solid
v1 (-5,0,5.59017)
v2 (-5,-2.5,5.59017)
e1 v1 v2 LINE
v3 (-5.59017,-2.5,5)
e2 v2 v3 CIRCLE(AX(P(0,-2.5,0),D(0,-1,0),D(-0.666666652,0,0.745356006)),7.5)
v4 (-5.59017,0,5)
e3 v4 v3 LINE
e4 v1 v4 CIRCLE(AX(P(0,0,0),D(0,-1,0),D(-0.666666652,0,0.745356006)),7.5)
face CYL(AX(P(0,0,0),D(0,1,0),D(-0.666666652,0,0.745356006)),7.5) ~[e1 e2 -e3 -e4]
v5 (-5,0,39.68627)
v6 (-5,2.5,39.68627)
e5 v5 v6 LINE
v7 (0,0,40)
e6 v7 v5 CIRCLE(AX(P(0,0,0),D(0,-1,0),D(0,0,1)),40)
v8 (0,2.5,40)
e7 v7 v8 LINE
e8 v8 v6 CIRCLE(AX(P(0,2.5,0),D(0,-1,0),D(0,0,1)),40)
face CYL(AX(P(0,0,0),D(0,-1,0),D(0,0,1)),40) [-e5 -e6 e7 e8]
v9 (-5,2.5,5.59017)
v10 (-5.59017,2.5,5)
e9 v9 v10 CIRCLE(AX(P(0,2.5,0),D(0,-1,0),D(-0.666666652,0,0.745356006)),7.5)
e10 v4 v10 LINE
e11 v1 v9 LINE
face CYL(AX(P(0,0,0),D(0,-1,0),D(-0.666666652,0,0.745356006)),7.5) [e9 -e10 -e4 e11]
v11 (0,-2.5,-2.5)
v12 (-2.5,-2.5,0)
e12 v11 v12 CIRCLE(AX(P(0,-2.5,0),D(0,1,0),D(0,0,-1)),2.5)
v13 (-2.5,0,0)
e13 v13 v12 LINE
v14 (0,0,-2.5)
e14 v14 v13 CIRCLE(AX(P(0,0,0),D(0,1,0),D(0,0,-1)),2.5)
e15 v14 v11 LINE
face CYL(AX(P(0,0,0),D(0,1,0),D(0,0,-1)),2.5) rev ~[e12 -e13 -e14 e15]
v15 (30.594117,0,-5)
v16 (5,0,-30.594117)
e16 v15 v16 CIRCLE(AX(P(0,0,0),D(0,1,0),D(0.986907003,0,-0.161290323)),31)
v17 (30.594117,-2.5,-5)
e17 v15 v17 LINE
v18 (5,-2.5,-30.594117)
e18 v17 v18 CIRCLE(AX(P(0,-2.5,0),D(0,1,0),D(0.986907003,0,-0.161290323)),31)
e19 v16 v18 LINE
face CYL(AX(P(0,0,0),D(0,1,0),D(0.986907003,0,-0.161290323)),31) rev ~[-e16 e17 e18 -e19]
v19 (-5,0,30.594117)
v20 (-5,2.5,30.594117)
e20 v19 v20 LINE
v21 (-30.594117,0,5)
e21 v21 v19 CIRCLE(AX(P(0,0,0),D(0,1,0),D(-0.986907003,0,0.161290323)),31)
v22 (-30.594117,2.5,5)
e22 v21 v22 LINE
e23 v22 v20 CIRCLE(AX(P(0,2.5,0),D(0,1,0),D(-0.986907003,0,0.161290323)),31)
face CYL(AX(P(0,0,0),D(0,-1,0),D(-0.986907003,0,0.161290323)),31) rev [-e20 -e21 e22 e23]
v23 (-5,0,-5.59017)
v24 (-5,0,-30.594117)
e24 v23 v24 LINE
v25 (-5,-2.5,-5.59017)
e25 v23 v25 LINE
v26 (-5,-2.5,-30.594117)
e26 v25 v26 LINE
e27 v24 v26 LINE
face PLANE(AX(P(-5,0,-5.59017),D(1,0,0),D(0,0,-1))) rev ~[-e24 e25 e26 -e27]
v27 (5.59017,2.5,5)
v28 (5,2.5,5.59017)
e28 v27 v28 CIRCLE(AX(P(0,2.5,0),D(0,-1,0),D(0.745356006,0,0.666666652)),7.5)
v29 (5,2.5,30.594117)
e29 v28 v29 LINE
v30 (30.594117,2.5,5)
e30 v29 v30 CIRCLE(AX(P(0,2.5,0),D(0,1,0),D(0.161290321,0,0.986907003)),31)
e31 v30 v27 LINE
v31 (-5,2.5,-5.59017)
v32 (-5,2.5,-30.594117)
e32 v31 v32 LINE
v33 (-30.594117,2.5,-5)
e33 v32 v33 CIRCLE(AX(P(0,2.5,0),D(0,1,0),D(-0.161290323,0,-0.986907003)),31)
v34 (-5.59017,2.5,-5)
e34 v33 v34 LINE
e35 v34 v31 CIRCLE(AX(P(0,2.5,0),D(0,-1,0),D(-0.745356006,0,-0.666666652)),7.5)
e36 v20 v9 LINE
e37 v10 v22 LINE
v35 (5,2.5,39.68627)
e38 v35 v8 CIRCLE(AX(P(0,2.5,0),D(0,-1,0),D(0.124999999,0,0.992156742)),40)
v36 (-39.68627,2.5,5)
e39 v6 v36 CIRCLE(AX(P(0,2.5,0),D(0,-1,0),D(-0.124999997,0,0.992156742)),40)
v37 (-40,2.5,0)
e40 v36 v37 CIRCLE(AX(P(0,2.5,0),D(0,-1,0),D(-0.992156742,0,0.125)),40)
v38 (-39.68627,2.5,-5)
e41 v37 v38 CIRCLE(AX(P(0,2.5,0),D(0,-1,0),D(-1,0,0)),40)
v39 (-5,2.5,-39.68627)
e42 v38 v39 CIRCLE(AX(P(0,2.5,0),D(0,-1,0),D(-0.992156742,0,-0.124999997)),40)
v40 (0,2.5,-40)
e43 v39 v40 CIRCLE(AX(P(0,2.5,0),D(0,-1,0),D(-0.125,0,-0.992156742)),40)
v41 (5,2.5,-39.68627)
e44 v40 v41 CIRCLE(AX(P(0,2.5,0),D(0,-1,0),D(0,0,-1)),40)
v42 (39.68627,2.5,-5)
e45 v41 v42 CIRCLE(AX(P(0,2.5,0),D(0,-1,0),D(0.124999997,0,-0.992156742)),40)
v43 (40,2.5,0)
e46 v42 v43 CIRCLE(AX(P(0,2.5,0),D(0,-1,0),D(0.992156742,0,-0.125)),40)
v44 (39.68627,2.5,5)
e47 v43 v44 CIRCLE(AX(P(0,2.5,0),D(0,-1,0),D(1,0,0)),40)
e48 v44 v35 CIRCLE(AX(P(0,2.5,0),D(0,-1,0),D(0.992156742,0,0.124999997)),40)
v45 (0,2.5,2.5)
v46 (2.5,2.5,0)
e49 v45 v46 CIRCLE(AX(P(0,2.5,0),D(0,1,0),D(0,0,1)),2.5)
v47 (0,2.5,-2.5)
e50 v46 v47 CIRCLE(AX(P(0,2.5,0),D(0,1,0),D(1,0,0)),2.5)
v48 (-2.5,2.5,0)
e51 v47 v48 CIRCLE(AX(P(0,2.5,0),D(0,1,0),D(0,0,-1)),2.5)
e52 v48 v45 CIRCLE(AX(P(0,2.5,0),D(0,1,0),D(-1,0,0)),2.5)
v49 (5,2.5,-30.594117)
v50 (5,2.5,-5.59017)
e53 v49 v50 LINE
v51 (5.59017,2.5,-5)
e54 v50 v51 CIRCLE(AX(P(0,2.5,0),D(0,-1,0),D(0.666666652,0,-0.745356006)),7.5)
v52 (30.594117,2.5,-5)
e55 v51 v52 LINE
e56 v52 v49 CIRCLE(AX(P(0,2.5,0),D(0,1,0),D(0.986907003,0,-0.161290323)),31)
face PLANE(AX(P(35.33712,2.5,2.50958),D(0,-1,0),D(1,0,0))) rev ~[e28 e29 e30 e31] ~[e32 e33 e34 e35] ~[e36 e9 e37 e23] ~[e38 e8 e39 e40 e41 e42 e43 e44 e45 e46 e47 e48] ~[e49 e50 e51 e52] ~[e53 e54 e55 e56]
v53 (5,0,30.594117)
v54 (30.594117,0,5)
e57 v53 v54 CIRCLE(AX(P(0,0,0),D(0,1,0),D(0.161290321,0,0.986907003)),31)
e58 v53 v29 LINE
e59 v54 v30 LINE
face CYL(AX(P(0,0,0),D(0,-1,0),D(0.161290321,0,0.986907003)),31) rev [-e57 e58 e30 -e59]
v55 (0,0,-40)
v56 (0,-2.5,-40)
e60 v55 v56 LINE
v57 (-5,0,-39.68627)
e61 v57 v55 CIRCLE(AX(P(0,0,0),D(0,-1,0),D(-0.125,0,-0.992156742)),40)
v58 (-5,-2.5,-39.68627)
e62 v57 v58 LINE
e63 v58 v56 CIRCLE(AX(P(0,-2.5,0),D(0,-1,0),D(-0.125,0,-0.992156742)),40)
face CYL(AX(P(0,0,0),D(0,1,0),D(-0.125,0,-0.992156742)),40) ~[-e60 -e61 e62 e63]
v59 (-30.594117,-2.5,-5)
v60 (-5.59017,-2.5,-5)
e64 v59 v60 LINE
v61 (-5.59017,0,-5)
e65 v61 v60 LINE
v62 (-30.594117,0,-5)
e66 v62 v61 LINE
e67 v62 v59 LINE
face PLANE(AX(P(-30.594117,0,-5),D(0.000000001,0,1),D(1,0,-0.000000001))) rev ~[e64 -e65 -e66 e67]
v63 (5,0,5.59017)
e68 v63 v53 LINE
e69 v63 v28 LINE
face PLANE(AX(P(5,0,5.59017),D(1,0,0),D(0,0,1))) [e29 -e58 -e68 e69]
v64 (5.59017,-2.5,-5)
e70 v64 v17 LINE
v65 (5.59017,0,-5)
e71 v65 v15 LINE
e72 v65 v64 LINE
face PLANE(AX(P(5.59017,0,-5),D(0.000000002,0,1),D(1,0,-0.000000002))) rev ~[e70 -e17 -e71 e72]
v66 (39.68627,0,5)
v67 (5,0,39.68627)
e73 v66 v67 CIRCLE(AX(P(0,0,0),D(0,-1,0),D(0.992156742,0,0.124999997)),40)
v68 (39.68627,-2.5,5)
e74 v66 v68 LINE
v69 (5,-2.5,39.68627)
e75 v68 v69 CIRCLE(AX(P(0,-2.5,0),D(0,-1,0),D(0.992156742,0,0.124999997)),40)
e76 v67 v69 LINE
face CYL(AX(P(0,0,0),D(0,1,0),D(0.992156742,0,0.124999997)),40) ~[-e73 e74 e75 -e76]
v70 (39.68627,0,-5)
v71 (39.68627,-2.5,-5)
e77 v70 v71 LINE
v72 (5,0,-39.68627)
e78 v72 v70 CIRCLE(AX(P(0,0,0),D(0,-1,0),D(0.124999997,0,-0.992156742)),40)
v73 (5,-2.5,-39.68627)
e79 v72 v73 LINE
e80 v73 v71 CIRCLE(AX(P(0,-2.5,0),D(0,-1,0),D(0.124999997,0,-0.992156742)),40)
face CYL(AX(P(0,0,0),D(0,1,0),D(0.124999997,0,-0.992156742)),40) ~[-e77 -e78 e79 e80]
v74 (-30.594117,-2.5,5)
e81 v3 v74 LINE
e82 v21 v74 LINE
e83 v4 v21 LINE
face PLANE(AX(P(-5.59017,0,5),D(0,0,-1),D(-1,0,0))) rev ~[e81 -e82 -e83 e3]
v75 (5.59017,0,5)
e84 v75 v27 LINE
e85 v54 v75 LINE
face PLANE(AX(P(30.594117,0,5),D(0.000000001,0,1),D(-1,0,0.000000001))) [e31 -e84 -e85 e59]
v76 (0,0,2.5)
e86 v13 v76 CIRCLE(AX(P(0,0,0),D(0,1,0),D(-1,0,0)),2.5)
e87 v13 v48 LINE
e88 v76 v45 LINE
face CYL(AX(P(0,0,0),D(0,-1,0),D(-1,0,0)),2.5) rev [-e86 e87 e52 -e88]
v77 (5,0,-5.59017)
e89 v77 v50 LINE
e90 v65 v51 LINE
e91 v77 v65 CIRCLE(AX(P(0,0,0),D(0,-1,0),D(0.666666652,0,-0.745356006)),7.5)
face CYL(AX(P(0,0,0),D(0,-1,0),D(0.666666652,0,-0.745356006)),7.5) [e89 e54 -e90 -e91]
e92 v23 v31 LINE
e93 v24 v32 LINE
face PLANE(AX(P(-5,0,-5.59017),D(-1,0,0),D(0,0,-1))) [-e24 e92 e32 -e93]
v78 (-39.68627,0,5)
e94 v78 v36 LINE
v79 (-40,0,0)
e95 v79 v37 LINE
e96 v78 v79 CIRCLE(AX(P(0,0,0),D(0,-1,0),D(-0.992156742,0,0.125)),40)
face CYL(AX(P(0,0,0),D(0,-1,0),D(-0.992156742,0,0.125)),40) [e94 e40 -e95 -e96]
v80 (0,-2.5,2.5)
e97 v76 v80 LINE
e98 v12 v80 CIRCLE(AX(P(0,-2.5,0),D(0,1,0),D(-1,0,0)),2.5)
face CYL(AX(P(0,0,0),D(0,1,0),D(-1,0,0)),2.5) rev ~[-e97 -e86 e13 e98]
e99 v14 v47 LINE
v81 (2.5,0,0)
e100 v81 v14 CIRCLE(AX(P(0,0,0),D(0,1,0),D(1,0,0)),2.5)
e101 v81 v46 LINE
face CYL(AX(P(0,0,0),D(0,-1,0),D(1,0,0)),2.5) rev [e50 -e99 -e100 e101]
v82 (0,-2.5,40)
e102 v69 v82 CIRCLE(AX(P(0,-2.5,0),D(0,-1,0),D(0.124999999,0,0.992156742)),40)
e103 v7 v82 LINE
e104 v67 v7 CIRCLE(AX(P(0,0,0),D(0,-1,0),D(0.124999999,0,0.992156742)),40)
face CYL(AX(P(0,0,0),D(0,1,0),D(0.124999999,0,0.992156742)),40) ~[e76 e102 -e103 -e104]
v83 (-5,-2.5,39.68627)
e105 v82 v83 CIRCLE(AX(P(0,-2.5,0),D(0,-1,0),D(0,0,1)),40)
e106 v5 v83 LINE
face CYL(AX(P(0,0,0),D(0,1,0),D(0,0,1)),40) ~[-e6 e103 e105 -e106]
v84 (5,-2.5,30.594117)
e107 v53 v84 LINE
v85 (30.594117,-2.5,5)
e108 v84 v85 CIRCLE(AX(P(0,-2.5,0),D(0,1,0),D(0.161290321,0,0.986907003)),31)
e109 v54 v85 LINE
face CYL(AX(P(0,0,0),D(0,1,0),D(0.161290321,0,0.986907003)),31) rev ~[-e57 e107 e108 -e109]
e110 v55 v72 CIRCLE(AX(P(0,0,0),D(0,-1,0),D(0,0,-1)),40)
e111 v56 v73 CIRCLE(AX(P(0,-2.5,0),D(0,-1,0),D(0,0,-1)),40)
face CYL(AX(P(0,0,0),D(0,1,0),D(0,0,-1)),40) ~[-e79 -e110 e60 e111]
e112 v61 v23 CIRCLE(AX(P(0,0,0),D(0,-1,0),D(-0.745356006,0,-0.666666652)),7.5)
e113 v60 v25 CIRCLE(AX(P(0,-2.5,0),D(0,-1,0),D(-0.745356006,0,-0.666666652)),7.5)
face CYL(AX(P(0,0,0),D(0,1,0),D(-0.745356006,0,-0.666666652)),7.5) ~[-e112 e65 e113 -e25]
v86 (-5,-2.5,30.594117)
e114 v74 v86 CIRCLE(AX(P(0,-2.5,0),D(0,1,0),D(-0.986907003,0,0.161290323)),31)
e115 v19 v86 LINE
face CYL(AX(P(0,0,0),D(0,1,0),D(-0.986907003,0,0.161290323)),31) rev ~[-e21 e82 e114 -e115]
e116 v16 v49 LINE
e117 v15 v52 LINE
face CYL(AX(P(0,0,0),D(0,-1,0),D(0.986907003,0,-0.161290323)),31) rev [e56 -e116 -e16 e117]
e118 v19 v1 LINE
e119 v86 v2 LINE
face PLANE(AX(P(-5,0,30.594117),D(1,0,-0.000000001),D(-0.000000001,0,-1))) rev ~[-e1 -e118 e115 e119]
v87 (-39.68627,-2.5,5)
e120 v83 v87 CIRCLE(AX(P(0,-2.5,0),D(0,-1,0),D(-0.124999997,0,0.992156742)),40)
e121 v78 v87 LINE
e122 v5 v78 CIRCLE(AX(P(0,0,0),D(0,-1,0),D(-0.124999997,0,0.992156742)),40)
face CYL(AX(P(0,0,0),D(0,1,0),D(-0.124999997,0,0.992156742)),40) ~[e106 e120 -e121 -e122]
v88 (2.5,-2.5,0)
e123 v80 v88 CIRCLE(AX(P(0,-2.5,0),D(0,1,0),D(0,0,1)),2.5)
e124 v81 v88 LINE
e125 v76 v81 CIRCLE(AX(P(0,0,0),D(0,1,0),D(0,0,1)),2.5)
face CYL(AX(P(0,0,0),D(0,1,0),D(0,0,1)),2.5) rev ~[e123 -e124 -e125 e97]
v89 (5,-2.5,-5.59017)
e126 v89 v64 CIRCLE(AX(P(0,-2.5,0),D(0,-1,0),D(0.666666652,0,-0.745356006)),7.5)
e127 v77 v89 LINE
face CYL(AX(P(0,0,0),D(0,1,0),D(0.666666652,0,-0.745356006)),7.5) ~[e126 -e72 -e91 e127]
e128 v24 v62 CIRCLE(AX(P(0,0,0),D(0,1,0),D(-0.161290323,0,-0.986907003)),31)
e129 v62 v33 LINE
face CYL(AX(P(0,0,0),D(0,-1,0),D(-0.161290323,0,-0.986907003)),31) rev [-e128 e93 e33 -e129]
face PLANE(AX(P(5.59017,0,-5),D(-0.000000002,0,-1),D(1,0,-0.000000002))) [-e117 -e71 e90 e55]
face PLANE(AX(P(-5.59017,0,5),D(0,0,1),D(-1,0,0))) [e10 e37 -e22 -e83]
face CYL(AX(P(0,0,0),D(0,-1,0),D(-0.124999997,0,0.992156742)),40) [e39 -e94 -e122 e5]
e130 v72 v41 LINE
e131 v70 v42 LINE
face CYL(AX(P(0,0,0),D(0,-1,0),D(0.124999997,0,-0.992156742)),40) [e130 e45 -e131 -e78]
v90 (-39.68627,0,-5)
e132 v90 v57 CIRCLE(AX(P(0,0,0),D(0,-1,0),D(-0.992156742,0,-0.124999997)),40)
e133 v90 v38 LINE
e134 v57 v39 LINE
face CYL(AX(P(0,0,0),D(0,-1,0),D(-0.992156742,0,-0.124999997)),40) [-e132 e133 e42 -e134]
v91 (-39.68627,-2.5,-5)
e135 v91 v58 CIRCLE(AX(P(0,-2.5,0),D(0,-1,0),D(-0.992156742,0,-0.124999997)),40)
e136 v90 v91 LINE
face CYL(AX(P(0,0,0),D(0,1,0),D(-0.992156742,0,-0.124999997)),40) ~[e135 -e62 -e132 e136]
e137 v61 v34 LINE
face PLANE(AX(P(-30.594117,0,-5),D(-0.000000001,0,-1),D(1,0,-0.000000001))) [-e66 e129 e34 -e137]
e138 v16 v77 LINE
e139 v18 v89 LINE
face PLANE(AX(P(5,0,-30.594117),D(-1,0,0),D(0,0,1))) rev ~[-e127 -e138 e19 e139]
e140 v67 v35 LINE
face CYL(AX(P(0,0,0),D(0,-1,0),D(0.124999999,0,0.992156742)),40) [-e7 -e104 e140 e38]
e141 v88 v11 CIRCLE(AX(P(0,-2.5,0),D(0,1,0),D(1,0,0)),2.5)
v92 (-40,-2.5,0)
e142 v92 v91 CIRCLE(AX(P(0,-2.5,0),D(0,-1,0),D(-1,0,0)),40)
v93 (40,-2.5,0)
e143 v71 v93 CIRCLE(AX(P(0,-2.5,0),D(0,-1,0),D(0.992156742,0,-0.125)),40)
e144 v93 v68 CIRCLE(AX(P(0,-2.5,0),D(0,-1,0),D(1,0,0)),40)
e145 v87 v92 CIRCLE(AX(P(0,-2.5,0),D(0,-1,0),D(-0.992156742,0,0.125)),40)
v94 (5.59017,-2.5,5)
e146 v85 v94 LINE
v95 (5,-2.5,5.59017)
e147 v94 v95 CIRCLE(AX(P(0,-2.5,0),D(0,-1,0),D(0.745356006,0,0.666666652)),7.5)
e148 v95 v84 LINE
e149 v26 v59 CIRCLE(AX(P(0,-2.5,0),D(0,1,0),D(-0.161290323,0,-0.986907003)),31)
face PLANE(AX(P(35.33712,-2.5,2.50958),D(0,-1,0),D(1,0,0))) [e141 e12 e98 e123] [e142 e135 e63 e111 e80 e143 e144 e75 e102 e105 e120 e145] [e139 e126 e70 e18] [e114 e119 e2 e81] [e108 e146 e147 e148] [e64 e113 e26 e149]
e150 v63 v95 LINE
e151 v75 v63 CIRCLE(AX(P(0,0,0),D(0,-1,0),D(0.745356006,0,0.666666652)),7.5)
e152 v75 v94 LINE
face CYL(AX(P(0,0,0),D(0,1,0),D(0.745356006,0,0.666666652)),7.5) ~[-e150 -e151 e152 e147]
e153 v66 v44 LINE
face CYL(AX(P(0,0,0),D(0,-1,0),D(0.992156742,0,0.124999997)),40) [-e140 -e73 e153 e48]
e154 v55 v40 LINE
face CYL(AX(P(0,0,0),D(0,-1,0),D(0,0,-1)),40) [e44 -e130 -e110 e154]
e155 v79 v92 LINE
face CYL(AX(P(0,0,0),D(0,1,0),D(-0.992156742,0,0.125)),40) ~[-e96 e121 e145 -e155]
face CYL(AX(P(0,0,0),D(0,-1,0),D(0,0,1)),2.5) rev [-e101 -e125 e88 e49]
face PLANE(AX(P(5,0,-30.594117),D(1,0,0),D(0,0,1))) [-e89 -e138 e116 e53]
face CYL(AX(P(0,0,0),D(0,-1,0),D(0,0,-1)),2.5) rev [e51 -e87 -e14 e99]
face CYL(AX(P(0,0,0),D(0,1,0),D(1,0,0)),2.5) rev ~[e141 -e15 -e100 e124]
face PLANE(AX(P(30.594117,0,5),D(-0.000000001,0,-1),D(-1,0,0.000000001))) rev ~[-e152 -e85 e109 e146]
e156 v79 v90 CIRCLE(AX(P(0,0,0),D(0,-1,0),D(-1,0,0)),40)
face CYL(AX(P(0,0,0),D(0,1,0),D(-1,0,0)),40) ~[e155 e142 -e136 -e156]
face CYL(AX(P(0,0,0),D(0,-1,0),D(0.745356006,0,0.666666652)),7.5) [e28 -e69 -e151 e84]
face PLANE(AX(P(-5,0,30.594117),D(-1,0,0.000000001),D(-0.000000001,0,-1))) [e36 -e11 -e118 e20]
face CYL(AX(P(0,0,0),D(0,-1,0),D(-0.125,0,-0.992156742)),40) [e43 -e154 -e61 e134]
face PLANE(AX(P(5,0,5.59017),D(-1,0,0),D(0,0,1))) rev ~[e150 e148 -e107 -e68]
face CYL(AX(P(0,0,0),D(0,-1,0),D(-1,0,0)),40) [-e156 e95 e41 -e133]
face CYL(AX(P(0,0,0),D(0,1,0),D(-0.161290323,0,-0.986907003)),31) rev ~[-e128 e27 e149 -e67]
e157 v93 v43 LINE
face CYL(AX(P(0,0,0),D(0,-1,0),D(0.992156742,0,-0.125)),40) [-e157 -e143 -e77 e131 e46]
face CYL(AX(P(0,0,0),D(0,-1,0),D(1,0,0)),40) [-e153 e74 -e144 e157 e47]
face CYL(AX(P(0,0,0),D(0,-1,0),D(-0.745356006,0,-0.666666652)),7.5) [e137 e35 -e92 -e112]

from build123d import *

# Parameters (mm, degrees)
F1_DEPTH = 2.5


with BuildPart() as f1:
    # F0 (on Front) → F1 (new body, symmetric)
    with BuildSketch(Plane.XZ):
        with BuildLine():
            Line((31, 0), (40, 0))
            ThreePointArc((40, 0), (39.921490373, 2.5049164455), (39.68626968, 4.9999998882))
            Line((39.68626968, 4.9999998882), (30.5941170998, 4.9999998882))
            ThreePointArc((30.5941170998, 4.9999998882), (30.8983626596, 2.5082234655), (31, 0))
        make_face()
        with BuildLine():
            ThreePointArc((39.686269666, -5), (39.9214903695, -2.5049165017), (40, 0))
            Line((40, 0), (31, 0))
            ThreePointArc((31, 0), (30.8983626551, -2.5082235219), (30.5941170816, -5))
            Line((30.5941170816, -5), (39.686269666, -5))
        make_face()
        with BuildLine():
            Line((30.5941170998, 4.9999998882), (39.68626968, 4.9999998882))
            ThreePointArc((39.68626968, 4.9999998882), (28.2842712674, 28.2842712275), (4.9999999441, 39.686269673))
            Line((4.9999998882, 39.686269673), (4.9999998882, 30.5941170907))
            ThreePointArc((4.9999999441, 30.5941170907), (21.9203102368, 21.9203101968), (30.5941170998, 4.9999998882))
        make_face()
        with BuildLine():
            ThreePointArc((4.9999998882, -39.68626968), (28.2842712076, -28.2842712873), (39.686269666, -5))
            Line((39.686269666, -5), (30.5941170816, -5))
            ThreePointArc((30.5941170816, -5), (21.9203101767, -21.9203102568), (4.9999998882, -30.5941170998))
            Line((4.9999998882, -30.5941170998), (4.9999998882, -39.68626968))
        make_face()
        with BuildLine():
            Line((4.9999998882, 30.5941170907), (4.9999998882, 39.686269673))
            ThreePointArc((4.9999999441, 39.686269673), (2.5049164736, 39.9214903712), (0, 40))
            Line((0, 40), (0, 31))
            ThreePointArc((0, 31), (2.5082234937, 30.8983626574), (4.9999999441, 30.5941170907))
        make_face()
        with BuildLine():
            ThreePointArc((0, -40), (2.5049164455, -39.921490373), (4.9999998882, -39.68626968))
            Line((4.9999998882, -39.68626968), (4.9999998882, -30.5941170998))
            ThreePointArc((4.9999998882, -30.5941170998), (2.5082234655, -30.8983626596), (0, -31))
            Line((0, -31), (0, -40))
        make_face()
        with BuildLine():
            Line((0, 31), (0, 40))
            ThreePointArc((0, 40), (-2.5049164455, 39.921490373), (-4.9999998882, 39.68626968))
            Line((-4.9999998882, 39.68626968), (-4.9999998882, 30.5941170998))
            ThreePointArc((-4.9999998882, 30.5941170998), (-2.5082234655, 30.8983626596), (0, 31))
        make_face()
        with BuildLine():
            ThreePointArc((-5, -39.686269666), (-2.5049165017, -39.9214903695), (0, -40))
            Line((0, -40), (0, -31))
            ThreePointArc((0, -31), (-2.5082235219, -30.8983626551), (-5, -30.5941170816))
            Line((-5, -30.5941170816), (-5, -39.686269666))
        make_face()
        with BuildLine():
            Line((-4.9999998882, 30.5941170998), (-4.9999998882, 39.68626968))
            ThreePointArc((-4.9999998882, 39.68626968), (-28.2842712076, 28.2842712873), (-39.686269666, 5))
            Line((-39.686269666, 5), (-30.5941170816, 5))
            ThreePointArc((-30.5941170816, 5), (-21.9203101767, 21.9203102568), (-4.9999998882, 30.5941170998))
        make_face()
        with BuildLine():
            ThreePointArc((-39.68626968, -4.9999998882), (-28.2842712873, -28.2842712076), (-5, -39.686269666))
            Line((-5, -39.686269666), (-5, -30.5941170816))
            ThreePointArc((-5, -30.5941170816), (-21.9203102568, -21.9203101767), (-30.5941170998, -4.9999998882))
            Line((-30.5941170998, -4.9999998882), (-39.68626968, -4.9999998882))
        make_face()
        with BuildLine():
            Line((-30.5941170816, 5), (-39.686269666, 5))
            ThreePointArc((-39.686269666, 5), (-39.9214903695, 2.5049165017), (-40, 0))
            Line((-40, 0), (-31, 0))
            ThreePointArc((-31, 0), (-30.8983626551, 2.5082235219), (-30.5941170816, 5))
        make_face()
        with BuildLine():
            ThreePointArc((-40, 0), (-39.921490373, -2.5049164455), (-39.68626968, -4.9999998882))
            Line((-39.68626968, -4.9999998882), (-30.5941170998, -4.9999998882))
            ThreePointArc((-30.5941170998, -4.9999998882), (-30.8983626596, -2.5082234655), (-31, 0))
            Line((-31, 0), (-40, 0))
        make_face()
        with BuildLine():
            Line((4.9999998882, 5.5901699937), (4.9999998882, 30.5941170907))
            ThreePointArc((4.9999999441, 30.5941170907), (2.5082234937, 30.8983626574), (0, 31))
            Line((0, 31), (0, 7.5))
            ThreePointArc((0, 7.5), (2.6761656383, 7.0062927056), (4.9999999441, 5.5901699937))
        make_face()
        with BuildLine():
            Line((0, 7.5), (0, 31))
            ThreePointArc((0, 31), (-2.5082234655, 30.8983626596), (-4.9999998882, 30.5941170998))
            Line((-4.9999998882, 30.5941170998), (-4.9999998882, 5.5901700437))
            ThreePointArc((-4.9999998882, 5.5901700437), (-2.6761656033, 7.006292719), (0, 7.5))
        make_face()
        with BuildLine():
            Line((-5.5901699437, 5), (-30.5941170816, 5))
            ThreePointArc((-30.5941170816, 5), (-30.8983626551, 2.5082235219), (-31, 0))
            Line((-31, 0), (-7.5, 0))
            ThreePointArc((-7.5, 0), (-7.0062926922, 2.6761656733), (-5.5901699437, 5))
        make_face()
        with BuildLine():
            ThreePointArc((-31, 0), (-30.8983626596, -2.5082234655), (-30.5941170998, -4.9999998882))
            Line((-30.5941170998, -4.9999998882), (-5.5901700437, -4.9999998882))
            ThreePointArc((-5.5901700437, -4.9999998882), (-7.006292719, -2.6761656033), (-7.5, 0))
            Line((-7.5, 0), (-31, 0))
        make_face()
        with BuildLine():
            ThreePointArc((-5, -30.5941170816), (-2.5082235219, -30.8983626551), (0, -31))
            Line((0, -31), (0, -7.5))
            ThreePointArc((0, -7.5), (-2.6761656733, -7.0062926922), (-5, -5.5901699437))
            Line((-5, -5.5901699437), (-5, -30.5941170816))
        make_face()
        with BuildLine():
            ThreePointArc((0, -31), (2.5082234655, -30.8983626596), (4.9999998882, -30.5941170998))
            Line((4.9999998882, -30.5941170998), (4.9999998882, -5.5901700437))
            ThreePointArc((4.9999998882, -5.5901700437), (2.6761656033, -7.006292719), (0, -7.5))
            Line((0, -7.5), (0, -31))
        make_face()
        with BuildLine():
            ThreePointArc((30.5941170816, -5), (30.8983626551, -2.5082235219), (31, 0))
            Line((31, 0), (7.5, 0))
            ThreePointArc((7.5, 0), (7.0062926922, -2.6761656733), (5.5901699437, -5))
            Line((5.5901699437, -5), (30.5941170816, -5))
        make_face()
        with BuildLine():
            Line((7.5, 0), (31, 0))
            ThreePointArc((31, 0), (30.8983626596, 2.5082234655), (30.5941170998, 4.9999998882))
            Line((30.5941170998, 4.9999998882), (5.5901700437, 4.9999998882))
            ThreePointArc((5.5901700437, 4.9999998882), (7.006292719, 2.6761656033), (7.5, 0))
        make_face()
        with BuildLine():
            Line((4.9999999255, 0), (7.5, 0))
            ThreePointArc((7.5, 0), (7.006292719, 2.6761656033), (5.5901700437, 4.9999998882))
            Line((5.5901700437, 4.9999998882), (4.9999999441, 4.9999998882))
            Line((4.9999998882, 4.9999998882), (4.9999998882, 0))
        make_face()
        with BuildLine():
            Line((2.5, 0), (4.9999999255, 0))
            Line((4.9999998882, 0), (4.9999998882, 4.9999998882))
            Line((4.9999999441, 4.9999998882), (0, 4.9999998882))
            Line((0, 4.9999999441), (0, 2.5))
            ThreePointArc((0, 2.5), (1.767766953, 1.767766953), (2.5, 0))
        make_face()
        with BuildLine():
            Line((4.9999998882, 4.9999998882), (4.9999998882, 5.5901699937))
            ThreePointArc((4.9999999441, 5.5901699937), (2.6761656383, 7.0062927056), (0, 7.5))
            Line((0, 7.5), (0, 4.9999999441))
            Line((0, 4.9999998882), (4.9999999441, 4.9999998882))
        make_face()
        with BuildLine():
            Line((0, 4.9999999441), (0, 7.5))
            ThreePointArc((0, 7.5), (-2.6761656033, 7.006292719), (-4.9999998882, 5.5901700437))
            Line((-4.9999998882, 5.5901700437), (-4.9999998882, 5))
            Line((-4.9999998882, 5), (0, 5))
        make_face()
        with BuildLine():
            Line((0, 2.5), (0, 4.9999999441))
            Line((0, 5), (-4.9999998882, 5))
            Line((-4.9999998882, 5), (-4.9999998882, 0))
            Line((-4.9999999441, 0), (-2.5, 0))
            ThreePointArc((-2.5, 0), (-1.767766953, 1.767766953), (0, 2.5))
        make_face()
        with BuildLine():
            Line((-4.9999998882, 0), (-4.9999998882, 5))
            Line((-4.9999998882, 5), (-5.5901699437, 5))
            ThreePointArc((-5.5901699437, 5), (-7.0062926922, 2.6761656733), (-7.5, 0))
            Line((-7.5, 0), (-4.9999999441, 0))
        make_face()
        with BuildLine():
            Line((-5.5901700437, -4.9999998882), (-5, -4.9999998882))
            Line((-5, -4.9999998882), (-5, 0))
            Line((-4.9999999441, 0), (-7.5, 0))
            ThreePointArc((-7.5, 0), (-7.006292719, -2.6761656033), (-5.5901700437, -4.9999998882))
        make_face()
        with BuildLine():
            Line((-5, -4.9999998882), (0, -4.9999998882))
            Line((0, -4.9999999441), (0, -2.5))
            ThreePointArc((0, -2.5), (-1.767766953, -1.767766953), (-2.5, 0))
            Line((-2.5, 0), (-4.9999999441, 0))
            Line((-5, 0), (-5, -4.9999998882))
        make_face()
        with BuildLine():
            Line((4.9999998882, -5), (4.9999998882, 0))
            Line((4.9999999255, 0), (2.5, 0))
            ThreePointArc((2.5, 0), (1.767766953, -1.767766953), (0, -2.5))
            Line((0, -2.5), (0, -4.9999999441))
            Line((0, -5), (4.9999998882, -5))
        make_face()
        with BuildLine():
            ThreePointArc((5.5901699437, -5), (7.0062926922, -2.6761656733), (7.5, 0))
            Line((7.5, 0), (4.9999999255, 0))
            Line((4.9999998882, 0), (4.9999998882, -5))
            Line((4.9999998882, -5), (5.5901699437, -5))
        make_face()
        with BuildLine():
            ThreePointArc((0, -7.5), (2.6761656033, -7.006292719), (4.9999998882, -5.5901700437))
            Line((4.9999998882, -5.5901700437), (4.9999998882, -5))
            Line((4.9999998882, -5), (0, -5))
            Line((0, -4.9999999441), (0, -7.5))
        make_face()
        with BuildLine():
            Line((-4.9999998882, 5), (-4.9999998882, 5.5901700437))
            ThreePointArc((-4.9999998882, 5.5901700437), (-5.3033008059, 5.3033009119), (-5.5901699437, 5))
            Line((-5.5901699437, 5), (-4.9999998882, 5))
        make_face()
        with BuildLine():
            ThreePointArc((-5.5901700437, -4.9999998882), (-5.3033009119, -5.3033008059), (-5, -5.5901699437))
            Line((-5, -5.5901699437), (-5, -4.9999998882))
            Line((-5, -4.9999998882), (-5.5901700437, -4.9999998882))
        make_face()
        with BuildLine():
            ThreePointArc((-5, -5.5901699437), (-2.6761656733, -7.0062926922), (0, -7.5))
            Line((0, -7.5), (0, -4.9999999441))
            Line((0, -4.9999998882), (-5, -4.9999998882))
            Line((-5, -4.9999998882), (-5, -5.5901699437))
        make_face()
        with BuildLine():
            ThreePointArc((4.9999998882, -5.5901700437), (5.3033008059, -5.3033009119), (5.5901699437, -5))
            Line((5.5901699437, -5), (4.9999998882, -5))
            Line((4.9999998882, -5), (4.9999998882, -5.5901700437))
        make_face()
        with BuildLine():
            Line((4.9999999441, 4.9999998882), (5.5901700437, 4.9999998882))
            ThreePointArc((5.5901700437, 4.9999998882), (5.3033008854, 5.3033008324), (4.9999999441, 5.5901699937))
            Line((4.9999998882, 5.5901699937), (4.9999998882, 4.9999998882))
        make_face()
    extrude(amount=F1_DEPTH, both=True)


solid = f1.part
